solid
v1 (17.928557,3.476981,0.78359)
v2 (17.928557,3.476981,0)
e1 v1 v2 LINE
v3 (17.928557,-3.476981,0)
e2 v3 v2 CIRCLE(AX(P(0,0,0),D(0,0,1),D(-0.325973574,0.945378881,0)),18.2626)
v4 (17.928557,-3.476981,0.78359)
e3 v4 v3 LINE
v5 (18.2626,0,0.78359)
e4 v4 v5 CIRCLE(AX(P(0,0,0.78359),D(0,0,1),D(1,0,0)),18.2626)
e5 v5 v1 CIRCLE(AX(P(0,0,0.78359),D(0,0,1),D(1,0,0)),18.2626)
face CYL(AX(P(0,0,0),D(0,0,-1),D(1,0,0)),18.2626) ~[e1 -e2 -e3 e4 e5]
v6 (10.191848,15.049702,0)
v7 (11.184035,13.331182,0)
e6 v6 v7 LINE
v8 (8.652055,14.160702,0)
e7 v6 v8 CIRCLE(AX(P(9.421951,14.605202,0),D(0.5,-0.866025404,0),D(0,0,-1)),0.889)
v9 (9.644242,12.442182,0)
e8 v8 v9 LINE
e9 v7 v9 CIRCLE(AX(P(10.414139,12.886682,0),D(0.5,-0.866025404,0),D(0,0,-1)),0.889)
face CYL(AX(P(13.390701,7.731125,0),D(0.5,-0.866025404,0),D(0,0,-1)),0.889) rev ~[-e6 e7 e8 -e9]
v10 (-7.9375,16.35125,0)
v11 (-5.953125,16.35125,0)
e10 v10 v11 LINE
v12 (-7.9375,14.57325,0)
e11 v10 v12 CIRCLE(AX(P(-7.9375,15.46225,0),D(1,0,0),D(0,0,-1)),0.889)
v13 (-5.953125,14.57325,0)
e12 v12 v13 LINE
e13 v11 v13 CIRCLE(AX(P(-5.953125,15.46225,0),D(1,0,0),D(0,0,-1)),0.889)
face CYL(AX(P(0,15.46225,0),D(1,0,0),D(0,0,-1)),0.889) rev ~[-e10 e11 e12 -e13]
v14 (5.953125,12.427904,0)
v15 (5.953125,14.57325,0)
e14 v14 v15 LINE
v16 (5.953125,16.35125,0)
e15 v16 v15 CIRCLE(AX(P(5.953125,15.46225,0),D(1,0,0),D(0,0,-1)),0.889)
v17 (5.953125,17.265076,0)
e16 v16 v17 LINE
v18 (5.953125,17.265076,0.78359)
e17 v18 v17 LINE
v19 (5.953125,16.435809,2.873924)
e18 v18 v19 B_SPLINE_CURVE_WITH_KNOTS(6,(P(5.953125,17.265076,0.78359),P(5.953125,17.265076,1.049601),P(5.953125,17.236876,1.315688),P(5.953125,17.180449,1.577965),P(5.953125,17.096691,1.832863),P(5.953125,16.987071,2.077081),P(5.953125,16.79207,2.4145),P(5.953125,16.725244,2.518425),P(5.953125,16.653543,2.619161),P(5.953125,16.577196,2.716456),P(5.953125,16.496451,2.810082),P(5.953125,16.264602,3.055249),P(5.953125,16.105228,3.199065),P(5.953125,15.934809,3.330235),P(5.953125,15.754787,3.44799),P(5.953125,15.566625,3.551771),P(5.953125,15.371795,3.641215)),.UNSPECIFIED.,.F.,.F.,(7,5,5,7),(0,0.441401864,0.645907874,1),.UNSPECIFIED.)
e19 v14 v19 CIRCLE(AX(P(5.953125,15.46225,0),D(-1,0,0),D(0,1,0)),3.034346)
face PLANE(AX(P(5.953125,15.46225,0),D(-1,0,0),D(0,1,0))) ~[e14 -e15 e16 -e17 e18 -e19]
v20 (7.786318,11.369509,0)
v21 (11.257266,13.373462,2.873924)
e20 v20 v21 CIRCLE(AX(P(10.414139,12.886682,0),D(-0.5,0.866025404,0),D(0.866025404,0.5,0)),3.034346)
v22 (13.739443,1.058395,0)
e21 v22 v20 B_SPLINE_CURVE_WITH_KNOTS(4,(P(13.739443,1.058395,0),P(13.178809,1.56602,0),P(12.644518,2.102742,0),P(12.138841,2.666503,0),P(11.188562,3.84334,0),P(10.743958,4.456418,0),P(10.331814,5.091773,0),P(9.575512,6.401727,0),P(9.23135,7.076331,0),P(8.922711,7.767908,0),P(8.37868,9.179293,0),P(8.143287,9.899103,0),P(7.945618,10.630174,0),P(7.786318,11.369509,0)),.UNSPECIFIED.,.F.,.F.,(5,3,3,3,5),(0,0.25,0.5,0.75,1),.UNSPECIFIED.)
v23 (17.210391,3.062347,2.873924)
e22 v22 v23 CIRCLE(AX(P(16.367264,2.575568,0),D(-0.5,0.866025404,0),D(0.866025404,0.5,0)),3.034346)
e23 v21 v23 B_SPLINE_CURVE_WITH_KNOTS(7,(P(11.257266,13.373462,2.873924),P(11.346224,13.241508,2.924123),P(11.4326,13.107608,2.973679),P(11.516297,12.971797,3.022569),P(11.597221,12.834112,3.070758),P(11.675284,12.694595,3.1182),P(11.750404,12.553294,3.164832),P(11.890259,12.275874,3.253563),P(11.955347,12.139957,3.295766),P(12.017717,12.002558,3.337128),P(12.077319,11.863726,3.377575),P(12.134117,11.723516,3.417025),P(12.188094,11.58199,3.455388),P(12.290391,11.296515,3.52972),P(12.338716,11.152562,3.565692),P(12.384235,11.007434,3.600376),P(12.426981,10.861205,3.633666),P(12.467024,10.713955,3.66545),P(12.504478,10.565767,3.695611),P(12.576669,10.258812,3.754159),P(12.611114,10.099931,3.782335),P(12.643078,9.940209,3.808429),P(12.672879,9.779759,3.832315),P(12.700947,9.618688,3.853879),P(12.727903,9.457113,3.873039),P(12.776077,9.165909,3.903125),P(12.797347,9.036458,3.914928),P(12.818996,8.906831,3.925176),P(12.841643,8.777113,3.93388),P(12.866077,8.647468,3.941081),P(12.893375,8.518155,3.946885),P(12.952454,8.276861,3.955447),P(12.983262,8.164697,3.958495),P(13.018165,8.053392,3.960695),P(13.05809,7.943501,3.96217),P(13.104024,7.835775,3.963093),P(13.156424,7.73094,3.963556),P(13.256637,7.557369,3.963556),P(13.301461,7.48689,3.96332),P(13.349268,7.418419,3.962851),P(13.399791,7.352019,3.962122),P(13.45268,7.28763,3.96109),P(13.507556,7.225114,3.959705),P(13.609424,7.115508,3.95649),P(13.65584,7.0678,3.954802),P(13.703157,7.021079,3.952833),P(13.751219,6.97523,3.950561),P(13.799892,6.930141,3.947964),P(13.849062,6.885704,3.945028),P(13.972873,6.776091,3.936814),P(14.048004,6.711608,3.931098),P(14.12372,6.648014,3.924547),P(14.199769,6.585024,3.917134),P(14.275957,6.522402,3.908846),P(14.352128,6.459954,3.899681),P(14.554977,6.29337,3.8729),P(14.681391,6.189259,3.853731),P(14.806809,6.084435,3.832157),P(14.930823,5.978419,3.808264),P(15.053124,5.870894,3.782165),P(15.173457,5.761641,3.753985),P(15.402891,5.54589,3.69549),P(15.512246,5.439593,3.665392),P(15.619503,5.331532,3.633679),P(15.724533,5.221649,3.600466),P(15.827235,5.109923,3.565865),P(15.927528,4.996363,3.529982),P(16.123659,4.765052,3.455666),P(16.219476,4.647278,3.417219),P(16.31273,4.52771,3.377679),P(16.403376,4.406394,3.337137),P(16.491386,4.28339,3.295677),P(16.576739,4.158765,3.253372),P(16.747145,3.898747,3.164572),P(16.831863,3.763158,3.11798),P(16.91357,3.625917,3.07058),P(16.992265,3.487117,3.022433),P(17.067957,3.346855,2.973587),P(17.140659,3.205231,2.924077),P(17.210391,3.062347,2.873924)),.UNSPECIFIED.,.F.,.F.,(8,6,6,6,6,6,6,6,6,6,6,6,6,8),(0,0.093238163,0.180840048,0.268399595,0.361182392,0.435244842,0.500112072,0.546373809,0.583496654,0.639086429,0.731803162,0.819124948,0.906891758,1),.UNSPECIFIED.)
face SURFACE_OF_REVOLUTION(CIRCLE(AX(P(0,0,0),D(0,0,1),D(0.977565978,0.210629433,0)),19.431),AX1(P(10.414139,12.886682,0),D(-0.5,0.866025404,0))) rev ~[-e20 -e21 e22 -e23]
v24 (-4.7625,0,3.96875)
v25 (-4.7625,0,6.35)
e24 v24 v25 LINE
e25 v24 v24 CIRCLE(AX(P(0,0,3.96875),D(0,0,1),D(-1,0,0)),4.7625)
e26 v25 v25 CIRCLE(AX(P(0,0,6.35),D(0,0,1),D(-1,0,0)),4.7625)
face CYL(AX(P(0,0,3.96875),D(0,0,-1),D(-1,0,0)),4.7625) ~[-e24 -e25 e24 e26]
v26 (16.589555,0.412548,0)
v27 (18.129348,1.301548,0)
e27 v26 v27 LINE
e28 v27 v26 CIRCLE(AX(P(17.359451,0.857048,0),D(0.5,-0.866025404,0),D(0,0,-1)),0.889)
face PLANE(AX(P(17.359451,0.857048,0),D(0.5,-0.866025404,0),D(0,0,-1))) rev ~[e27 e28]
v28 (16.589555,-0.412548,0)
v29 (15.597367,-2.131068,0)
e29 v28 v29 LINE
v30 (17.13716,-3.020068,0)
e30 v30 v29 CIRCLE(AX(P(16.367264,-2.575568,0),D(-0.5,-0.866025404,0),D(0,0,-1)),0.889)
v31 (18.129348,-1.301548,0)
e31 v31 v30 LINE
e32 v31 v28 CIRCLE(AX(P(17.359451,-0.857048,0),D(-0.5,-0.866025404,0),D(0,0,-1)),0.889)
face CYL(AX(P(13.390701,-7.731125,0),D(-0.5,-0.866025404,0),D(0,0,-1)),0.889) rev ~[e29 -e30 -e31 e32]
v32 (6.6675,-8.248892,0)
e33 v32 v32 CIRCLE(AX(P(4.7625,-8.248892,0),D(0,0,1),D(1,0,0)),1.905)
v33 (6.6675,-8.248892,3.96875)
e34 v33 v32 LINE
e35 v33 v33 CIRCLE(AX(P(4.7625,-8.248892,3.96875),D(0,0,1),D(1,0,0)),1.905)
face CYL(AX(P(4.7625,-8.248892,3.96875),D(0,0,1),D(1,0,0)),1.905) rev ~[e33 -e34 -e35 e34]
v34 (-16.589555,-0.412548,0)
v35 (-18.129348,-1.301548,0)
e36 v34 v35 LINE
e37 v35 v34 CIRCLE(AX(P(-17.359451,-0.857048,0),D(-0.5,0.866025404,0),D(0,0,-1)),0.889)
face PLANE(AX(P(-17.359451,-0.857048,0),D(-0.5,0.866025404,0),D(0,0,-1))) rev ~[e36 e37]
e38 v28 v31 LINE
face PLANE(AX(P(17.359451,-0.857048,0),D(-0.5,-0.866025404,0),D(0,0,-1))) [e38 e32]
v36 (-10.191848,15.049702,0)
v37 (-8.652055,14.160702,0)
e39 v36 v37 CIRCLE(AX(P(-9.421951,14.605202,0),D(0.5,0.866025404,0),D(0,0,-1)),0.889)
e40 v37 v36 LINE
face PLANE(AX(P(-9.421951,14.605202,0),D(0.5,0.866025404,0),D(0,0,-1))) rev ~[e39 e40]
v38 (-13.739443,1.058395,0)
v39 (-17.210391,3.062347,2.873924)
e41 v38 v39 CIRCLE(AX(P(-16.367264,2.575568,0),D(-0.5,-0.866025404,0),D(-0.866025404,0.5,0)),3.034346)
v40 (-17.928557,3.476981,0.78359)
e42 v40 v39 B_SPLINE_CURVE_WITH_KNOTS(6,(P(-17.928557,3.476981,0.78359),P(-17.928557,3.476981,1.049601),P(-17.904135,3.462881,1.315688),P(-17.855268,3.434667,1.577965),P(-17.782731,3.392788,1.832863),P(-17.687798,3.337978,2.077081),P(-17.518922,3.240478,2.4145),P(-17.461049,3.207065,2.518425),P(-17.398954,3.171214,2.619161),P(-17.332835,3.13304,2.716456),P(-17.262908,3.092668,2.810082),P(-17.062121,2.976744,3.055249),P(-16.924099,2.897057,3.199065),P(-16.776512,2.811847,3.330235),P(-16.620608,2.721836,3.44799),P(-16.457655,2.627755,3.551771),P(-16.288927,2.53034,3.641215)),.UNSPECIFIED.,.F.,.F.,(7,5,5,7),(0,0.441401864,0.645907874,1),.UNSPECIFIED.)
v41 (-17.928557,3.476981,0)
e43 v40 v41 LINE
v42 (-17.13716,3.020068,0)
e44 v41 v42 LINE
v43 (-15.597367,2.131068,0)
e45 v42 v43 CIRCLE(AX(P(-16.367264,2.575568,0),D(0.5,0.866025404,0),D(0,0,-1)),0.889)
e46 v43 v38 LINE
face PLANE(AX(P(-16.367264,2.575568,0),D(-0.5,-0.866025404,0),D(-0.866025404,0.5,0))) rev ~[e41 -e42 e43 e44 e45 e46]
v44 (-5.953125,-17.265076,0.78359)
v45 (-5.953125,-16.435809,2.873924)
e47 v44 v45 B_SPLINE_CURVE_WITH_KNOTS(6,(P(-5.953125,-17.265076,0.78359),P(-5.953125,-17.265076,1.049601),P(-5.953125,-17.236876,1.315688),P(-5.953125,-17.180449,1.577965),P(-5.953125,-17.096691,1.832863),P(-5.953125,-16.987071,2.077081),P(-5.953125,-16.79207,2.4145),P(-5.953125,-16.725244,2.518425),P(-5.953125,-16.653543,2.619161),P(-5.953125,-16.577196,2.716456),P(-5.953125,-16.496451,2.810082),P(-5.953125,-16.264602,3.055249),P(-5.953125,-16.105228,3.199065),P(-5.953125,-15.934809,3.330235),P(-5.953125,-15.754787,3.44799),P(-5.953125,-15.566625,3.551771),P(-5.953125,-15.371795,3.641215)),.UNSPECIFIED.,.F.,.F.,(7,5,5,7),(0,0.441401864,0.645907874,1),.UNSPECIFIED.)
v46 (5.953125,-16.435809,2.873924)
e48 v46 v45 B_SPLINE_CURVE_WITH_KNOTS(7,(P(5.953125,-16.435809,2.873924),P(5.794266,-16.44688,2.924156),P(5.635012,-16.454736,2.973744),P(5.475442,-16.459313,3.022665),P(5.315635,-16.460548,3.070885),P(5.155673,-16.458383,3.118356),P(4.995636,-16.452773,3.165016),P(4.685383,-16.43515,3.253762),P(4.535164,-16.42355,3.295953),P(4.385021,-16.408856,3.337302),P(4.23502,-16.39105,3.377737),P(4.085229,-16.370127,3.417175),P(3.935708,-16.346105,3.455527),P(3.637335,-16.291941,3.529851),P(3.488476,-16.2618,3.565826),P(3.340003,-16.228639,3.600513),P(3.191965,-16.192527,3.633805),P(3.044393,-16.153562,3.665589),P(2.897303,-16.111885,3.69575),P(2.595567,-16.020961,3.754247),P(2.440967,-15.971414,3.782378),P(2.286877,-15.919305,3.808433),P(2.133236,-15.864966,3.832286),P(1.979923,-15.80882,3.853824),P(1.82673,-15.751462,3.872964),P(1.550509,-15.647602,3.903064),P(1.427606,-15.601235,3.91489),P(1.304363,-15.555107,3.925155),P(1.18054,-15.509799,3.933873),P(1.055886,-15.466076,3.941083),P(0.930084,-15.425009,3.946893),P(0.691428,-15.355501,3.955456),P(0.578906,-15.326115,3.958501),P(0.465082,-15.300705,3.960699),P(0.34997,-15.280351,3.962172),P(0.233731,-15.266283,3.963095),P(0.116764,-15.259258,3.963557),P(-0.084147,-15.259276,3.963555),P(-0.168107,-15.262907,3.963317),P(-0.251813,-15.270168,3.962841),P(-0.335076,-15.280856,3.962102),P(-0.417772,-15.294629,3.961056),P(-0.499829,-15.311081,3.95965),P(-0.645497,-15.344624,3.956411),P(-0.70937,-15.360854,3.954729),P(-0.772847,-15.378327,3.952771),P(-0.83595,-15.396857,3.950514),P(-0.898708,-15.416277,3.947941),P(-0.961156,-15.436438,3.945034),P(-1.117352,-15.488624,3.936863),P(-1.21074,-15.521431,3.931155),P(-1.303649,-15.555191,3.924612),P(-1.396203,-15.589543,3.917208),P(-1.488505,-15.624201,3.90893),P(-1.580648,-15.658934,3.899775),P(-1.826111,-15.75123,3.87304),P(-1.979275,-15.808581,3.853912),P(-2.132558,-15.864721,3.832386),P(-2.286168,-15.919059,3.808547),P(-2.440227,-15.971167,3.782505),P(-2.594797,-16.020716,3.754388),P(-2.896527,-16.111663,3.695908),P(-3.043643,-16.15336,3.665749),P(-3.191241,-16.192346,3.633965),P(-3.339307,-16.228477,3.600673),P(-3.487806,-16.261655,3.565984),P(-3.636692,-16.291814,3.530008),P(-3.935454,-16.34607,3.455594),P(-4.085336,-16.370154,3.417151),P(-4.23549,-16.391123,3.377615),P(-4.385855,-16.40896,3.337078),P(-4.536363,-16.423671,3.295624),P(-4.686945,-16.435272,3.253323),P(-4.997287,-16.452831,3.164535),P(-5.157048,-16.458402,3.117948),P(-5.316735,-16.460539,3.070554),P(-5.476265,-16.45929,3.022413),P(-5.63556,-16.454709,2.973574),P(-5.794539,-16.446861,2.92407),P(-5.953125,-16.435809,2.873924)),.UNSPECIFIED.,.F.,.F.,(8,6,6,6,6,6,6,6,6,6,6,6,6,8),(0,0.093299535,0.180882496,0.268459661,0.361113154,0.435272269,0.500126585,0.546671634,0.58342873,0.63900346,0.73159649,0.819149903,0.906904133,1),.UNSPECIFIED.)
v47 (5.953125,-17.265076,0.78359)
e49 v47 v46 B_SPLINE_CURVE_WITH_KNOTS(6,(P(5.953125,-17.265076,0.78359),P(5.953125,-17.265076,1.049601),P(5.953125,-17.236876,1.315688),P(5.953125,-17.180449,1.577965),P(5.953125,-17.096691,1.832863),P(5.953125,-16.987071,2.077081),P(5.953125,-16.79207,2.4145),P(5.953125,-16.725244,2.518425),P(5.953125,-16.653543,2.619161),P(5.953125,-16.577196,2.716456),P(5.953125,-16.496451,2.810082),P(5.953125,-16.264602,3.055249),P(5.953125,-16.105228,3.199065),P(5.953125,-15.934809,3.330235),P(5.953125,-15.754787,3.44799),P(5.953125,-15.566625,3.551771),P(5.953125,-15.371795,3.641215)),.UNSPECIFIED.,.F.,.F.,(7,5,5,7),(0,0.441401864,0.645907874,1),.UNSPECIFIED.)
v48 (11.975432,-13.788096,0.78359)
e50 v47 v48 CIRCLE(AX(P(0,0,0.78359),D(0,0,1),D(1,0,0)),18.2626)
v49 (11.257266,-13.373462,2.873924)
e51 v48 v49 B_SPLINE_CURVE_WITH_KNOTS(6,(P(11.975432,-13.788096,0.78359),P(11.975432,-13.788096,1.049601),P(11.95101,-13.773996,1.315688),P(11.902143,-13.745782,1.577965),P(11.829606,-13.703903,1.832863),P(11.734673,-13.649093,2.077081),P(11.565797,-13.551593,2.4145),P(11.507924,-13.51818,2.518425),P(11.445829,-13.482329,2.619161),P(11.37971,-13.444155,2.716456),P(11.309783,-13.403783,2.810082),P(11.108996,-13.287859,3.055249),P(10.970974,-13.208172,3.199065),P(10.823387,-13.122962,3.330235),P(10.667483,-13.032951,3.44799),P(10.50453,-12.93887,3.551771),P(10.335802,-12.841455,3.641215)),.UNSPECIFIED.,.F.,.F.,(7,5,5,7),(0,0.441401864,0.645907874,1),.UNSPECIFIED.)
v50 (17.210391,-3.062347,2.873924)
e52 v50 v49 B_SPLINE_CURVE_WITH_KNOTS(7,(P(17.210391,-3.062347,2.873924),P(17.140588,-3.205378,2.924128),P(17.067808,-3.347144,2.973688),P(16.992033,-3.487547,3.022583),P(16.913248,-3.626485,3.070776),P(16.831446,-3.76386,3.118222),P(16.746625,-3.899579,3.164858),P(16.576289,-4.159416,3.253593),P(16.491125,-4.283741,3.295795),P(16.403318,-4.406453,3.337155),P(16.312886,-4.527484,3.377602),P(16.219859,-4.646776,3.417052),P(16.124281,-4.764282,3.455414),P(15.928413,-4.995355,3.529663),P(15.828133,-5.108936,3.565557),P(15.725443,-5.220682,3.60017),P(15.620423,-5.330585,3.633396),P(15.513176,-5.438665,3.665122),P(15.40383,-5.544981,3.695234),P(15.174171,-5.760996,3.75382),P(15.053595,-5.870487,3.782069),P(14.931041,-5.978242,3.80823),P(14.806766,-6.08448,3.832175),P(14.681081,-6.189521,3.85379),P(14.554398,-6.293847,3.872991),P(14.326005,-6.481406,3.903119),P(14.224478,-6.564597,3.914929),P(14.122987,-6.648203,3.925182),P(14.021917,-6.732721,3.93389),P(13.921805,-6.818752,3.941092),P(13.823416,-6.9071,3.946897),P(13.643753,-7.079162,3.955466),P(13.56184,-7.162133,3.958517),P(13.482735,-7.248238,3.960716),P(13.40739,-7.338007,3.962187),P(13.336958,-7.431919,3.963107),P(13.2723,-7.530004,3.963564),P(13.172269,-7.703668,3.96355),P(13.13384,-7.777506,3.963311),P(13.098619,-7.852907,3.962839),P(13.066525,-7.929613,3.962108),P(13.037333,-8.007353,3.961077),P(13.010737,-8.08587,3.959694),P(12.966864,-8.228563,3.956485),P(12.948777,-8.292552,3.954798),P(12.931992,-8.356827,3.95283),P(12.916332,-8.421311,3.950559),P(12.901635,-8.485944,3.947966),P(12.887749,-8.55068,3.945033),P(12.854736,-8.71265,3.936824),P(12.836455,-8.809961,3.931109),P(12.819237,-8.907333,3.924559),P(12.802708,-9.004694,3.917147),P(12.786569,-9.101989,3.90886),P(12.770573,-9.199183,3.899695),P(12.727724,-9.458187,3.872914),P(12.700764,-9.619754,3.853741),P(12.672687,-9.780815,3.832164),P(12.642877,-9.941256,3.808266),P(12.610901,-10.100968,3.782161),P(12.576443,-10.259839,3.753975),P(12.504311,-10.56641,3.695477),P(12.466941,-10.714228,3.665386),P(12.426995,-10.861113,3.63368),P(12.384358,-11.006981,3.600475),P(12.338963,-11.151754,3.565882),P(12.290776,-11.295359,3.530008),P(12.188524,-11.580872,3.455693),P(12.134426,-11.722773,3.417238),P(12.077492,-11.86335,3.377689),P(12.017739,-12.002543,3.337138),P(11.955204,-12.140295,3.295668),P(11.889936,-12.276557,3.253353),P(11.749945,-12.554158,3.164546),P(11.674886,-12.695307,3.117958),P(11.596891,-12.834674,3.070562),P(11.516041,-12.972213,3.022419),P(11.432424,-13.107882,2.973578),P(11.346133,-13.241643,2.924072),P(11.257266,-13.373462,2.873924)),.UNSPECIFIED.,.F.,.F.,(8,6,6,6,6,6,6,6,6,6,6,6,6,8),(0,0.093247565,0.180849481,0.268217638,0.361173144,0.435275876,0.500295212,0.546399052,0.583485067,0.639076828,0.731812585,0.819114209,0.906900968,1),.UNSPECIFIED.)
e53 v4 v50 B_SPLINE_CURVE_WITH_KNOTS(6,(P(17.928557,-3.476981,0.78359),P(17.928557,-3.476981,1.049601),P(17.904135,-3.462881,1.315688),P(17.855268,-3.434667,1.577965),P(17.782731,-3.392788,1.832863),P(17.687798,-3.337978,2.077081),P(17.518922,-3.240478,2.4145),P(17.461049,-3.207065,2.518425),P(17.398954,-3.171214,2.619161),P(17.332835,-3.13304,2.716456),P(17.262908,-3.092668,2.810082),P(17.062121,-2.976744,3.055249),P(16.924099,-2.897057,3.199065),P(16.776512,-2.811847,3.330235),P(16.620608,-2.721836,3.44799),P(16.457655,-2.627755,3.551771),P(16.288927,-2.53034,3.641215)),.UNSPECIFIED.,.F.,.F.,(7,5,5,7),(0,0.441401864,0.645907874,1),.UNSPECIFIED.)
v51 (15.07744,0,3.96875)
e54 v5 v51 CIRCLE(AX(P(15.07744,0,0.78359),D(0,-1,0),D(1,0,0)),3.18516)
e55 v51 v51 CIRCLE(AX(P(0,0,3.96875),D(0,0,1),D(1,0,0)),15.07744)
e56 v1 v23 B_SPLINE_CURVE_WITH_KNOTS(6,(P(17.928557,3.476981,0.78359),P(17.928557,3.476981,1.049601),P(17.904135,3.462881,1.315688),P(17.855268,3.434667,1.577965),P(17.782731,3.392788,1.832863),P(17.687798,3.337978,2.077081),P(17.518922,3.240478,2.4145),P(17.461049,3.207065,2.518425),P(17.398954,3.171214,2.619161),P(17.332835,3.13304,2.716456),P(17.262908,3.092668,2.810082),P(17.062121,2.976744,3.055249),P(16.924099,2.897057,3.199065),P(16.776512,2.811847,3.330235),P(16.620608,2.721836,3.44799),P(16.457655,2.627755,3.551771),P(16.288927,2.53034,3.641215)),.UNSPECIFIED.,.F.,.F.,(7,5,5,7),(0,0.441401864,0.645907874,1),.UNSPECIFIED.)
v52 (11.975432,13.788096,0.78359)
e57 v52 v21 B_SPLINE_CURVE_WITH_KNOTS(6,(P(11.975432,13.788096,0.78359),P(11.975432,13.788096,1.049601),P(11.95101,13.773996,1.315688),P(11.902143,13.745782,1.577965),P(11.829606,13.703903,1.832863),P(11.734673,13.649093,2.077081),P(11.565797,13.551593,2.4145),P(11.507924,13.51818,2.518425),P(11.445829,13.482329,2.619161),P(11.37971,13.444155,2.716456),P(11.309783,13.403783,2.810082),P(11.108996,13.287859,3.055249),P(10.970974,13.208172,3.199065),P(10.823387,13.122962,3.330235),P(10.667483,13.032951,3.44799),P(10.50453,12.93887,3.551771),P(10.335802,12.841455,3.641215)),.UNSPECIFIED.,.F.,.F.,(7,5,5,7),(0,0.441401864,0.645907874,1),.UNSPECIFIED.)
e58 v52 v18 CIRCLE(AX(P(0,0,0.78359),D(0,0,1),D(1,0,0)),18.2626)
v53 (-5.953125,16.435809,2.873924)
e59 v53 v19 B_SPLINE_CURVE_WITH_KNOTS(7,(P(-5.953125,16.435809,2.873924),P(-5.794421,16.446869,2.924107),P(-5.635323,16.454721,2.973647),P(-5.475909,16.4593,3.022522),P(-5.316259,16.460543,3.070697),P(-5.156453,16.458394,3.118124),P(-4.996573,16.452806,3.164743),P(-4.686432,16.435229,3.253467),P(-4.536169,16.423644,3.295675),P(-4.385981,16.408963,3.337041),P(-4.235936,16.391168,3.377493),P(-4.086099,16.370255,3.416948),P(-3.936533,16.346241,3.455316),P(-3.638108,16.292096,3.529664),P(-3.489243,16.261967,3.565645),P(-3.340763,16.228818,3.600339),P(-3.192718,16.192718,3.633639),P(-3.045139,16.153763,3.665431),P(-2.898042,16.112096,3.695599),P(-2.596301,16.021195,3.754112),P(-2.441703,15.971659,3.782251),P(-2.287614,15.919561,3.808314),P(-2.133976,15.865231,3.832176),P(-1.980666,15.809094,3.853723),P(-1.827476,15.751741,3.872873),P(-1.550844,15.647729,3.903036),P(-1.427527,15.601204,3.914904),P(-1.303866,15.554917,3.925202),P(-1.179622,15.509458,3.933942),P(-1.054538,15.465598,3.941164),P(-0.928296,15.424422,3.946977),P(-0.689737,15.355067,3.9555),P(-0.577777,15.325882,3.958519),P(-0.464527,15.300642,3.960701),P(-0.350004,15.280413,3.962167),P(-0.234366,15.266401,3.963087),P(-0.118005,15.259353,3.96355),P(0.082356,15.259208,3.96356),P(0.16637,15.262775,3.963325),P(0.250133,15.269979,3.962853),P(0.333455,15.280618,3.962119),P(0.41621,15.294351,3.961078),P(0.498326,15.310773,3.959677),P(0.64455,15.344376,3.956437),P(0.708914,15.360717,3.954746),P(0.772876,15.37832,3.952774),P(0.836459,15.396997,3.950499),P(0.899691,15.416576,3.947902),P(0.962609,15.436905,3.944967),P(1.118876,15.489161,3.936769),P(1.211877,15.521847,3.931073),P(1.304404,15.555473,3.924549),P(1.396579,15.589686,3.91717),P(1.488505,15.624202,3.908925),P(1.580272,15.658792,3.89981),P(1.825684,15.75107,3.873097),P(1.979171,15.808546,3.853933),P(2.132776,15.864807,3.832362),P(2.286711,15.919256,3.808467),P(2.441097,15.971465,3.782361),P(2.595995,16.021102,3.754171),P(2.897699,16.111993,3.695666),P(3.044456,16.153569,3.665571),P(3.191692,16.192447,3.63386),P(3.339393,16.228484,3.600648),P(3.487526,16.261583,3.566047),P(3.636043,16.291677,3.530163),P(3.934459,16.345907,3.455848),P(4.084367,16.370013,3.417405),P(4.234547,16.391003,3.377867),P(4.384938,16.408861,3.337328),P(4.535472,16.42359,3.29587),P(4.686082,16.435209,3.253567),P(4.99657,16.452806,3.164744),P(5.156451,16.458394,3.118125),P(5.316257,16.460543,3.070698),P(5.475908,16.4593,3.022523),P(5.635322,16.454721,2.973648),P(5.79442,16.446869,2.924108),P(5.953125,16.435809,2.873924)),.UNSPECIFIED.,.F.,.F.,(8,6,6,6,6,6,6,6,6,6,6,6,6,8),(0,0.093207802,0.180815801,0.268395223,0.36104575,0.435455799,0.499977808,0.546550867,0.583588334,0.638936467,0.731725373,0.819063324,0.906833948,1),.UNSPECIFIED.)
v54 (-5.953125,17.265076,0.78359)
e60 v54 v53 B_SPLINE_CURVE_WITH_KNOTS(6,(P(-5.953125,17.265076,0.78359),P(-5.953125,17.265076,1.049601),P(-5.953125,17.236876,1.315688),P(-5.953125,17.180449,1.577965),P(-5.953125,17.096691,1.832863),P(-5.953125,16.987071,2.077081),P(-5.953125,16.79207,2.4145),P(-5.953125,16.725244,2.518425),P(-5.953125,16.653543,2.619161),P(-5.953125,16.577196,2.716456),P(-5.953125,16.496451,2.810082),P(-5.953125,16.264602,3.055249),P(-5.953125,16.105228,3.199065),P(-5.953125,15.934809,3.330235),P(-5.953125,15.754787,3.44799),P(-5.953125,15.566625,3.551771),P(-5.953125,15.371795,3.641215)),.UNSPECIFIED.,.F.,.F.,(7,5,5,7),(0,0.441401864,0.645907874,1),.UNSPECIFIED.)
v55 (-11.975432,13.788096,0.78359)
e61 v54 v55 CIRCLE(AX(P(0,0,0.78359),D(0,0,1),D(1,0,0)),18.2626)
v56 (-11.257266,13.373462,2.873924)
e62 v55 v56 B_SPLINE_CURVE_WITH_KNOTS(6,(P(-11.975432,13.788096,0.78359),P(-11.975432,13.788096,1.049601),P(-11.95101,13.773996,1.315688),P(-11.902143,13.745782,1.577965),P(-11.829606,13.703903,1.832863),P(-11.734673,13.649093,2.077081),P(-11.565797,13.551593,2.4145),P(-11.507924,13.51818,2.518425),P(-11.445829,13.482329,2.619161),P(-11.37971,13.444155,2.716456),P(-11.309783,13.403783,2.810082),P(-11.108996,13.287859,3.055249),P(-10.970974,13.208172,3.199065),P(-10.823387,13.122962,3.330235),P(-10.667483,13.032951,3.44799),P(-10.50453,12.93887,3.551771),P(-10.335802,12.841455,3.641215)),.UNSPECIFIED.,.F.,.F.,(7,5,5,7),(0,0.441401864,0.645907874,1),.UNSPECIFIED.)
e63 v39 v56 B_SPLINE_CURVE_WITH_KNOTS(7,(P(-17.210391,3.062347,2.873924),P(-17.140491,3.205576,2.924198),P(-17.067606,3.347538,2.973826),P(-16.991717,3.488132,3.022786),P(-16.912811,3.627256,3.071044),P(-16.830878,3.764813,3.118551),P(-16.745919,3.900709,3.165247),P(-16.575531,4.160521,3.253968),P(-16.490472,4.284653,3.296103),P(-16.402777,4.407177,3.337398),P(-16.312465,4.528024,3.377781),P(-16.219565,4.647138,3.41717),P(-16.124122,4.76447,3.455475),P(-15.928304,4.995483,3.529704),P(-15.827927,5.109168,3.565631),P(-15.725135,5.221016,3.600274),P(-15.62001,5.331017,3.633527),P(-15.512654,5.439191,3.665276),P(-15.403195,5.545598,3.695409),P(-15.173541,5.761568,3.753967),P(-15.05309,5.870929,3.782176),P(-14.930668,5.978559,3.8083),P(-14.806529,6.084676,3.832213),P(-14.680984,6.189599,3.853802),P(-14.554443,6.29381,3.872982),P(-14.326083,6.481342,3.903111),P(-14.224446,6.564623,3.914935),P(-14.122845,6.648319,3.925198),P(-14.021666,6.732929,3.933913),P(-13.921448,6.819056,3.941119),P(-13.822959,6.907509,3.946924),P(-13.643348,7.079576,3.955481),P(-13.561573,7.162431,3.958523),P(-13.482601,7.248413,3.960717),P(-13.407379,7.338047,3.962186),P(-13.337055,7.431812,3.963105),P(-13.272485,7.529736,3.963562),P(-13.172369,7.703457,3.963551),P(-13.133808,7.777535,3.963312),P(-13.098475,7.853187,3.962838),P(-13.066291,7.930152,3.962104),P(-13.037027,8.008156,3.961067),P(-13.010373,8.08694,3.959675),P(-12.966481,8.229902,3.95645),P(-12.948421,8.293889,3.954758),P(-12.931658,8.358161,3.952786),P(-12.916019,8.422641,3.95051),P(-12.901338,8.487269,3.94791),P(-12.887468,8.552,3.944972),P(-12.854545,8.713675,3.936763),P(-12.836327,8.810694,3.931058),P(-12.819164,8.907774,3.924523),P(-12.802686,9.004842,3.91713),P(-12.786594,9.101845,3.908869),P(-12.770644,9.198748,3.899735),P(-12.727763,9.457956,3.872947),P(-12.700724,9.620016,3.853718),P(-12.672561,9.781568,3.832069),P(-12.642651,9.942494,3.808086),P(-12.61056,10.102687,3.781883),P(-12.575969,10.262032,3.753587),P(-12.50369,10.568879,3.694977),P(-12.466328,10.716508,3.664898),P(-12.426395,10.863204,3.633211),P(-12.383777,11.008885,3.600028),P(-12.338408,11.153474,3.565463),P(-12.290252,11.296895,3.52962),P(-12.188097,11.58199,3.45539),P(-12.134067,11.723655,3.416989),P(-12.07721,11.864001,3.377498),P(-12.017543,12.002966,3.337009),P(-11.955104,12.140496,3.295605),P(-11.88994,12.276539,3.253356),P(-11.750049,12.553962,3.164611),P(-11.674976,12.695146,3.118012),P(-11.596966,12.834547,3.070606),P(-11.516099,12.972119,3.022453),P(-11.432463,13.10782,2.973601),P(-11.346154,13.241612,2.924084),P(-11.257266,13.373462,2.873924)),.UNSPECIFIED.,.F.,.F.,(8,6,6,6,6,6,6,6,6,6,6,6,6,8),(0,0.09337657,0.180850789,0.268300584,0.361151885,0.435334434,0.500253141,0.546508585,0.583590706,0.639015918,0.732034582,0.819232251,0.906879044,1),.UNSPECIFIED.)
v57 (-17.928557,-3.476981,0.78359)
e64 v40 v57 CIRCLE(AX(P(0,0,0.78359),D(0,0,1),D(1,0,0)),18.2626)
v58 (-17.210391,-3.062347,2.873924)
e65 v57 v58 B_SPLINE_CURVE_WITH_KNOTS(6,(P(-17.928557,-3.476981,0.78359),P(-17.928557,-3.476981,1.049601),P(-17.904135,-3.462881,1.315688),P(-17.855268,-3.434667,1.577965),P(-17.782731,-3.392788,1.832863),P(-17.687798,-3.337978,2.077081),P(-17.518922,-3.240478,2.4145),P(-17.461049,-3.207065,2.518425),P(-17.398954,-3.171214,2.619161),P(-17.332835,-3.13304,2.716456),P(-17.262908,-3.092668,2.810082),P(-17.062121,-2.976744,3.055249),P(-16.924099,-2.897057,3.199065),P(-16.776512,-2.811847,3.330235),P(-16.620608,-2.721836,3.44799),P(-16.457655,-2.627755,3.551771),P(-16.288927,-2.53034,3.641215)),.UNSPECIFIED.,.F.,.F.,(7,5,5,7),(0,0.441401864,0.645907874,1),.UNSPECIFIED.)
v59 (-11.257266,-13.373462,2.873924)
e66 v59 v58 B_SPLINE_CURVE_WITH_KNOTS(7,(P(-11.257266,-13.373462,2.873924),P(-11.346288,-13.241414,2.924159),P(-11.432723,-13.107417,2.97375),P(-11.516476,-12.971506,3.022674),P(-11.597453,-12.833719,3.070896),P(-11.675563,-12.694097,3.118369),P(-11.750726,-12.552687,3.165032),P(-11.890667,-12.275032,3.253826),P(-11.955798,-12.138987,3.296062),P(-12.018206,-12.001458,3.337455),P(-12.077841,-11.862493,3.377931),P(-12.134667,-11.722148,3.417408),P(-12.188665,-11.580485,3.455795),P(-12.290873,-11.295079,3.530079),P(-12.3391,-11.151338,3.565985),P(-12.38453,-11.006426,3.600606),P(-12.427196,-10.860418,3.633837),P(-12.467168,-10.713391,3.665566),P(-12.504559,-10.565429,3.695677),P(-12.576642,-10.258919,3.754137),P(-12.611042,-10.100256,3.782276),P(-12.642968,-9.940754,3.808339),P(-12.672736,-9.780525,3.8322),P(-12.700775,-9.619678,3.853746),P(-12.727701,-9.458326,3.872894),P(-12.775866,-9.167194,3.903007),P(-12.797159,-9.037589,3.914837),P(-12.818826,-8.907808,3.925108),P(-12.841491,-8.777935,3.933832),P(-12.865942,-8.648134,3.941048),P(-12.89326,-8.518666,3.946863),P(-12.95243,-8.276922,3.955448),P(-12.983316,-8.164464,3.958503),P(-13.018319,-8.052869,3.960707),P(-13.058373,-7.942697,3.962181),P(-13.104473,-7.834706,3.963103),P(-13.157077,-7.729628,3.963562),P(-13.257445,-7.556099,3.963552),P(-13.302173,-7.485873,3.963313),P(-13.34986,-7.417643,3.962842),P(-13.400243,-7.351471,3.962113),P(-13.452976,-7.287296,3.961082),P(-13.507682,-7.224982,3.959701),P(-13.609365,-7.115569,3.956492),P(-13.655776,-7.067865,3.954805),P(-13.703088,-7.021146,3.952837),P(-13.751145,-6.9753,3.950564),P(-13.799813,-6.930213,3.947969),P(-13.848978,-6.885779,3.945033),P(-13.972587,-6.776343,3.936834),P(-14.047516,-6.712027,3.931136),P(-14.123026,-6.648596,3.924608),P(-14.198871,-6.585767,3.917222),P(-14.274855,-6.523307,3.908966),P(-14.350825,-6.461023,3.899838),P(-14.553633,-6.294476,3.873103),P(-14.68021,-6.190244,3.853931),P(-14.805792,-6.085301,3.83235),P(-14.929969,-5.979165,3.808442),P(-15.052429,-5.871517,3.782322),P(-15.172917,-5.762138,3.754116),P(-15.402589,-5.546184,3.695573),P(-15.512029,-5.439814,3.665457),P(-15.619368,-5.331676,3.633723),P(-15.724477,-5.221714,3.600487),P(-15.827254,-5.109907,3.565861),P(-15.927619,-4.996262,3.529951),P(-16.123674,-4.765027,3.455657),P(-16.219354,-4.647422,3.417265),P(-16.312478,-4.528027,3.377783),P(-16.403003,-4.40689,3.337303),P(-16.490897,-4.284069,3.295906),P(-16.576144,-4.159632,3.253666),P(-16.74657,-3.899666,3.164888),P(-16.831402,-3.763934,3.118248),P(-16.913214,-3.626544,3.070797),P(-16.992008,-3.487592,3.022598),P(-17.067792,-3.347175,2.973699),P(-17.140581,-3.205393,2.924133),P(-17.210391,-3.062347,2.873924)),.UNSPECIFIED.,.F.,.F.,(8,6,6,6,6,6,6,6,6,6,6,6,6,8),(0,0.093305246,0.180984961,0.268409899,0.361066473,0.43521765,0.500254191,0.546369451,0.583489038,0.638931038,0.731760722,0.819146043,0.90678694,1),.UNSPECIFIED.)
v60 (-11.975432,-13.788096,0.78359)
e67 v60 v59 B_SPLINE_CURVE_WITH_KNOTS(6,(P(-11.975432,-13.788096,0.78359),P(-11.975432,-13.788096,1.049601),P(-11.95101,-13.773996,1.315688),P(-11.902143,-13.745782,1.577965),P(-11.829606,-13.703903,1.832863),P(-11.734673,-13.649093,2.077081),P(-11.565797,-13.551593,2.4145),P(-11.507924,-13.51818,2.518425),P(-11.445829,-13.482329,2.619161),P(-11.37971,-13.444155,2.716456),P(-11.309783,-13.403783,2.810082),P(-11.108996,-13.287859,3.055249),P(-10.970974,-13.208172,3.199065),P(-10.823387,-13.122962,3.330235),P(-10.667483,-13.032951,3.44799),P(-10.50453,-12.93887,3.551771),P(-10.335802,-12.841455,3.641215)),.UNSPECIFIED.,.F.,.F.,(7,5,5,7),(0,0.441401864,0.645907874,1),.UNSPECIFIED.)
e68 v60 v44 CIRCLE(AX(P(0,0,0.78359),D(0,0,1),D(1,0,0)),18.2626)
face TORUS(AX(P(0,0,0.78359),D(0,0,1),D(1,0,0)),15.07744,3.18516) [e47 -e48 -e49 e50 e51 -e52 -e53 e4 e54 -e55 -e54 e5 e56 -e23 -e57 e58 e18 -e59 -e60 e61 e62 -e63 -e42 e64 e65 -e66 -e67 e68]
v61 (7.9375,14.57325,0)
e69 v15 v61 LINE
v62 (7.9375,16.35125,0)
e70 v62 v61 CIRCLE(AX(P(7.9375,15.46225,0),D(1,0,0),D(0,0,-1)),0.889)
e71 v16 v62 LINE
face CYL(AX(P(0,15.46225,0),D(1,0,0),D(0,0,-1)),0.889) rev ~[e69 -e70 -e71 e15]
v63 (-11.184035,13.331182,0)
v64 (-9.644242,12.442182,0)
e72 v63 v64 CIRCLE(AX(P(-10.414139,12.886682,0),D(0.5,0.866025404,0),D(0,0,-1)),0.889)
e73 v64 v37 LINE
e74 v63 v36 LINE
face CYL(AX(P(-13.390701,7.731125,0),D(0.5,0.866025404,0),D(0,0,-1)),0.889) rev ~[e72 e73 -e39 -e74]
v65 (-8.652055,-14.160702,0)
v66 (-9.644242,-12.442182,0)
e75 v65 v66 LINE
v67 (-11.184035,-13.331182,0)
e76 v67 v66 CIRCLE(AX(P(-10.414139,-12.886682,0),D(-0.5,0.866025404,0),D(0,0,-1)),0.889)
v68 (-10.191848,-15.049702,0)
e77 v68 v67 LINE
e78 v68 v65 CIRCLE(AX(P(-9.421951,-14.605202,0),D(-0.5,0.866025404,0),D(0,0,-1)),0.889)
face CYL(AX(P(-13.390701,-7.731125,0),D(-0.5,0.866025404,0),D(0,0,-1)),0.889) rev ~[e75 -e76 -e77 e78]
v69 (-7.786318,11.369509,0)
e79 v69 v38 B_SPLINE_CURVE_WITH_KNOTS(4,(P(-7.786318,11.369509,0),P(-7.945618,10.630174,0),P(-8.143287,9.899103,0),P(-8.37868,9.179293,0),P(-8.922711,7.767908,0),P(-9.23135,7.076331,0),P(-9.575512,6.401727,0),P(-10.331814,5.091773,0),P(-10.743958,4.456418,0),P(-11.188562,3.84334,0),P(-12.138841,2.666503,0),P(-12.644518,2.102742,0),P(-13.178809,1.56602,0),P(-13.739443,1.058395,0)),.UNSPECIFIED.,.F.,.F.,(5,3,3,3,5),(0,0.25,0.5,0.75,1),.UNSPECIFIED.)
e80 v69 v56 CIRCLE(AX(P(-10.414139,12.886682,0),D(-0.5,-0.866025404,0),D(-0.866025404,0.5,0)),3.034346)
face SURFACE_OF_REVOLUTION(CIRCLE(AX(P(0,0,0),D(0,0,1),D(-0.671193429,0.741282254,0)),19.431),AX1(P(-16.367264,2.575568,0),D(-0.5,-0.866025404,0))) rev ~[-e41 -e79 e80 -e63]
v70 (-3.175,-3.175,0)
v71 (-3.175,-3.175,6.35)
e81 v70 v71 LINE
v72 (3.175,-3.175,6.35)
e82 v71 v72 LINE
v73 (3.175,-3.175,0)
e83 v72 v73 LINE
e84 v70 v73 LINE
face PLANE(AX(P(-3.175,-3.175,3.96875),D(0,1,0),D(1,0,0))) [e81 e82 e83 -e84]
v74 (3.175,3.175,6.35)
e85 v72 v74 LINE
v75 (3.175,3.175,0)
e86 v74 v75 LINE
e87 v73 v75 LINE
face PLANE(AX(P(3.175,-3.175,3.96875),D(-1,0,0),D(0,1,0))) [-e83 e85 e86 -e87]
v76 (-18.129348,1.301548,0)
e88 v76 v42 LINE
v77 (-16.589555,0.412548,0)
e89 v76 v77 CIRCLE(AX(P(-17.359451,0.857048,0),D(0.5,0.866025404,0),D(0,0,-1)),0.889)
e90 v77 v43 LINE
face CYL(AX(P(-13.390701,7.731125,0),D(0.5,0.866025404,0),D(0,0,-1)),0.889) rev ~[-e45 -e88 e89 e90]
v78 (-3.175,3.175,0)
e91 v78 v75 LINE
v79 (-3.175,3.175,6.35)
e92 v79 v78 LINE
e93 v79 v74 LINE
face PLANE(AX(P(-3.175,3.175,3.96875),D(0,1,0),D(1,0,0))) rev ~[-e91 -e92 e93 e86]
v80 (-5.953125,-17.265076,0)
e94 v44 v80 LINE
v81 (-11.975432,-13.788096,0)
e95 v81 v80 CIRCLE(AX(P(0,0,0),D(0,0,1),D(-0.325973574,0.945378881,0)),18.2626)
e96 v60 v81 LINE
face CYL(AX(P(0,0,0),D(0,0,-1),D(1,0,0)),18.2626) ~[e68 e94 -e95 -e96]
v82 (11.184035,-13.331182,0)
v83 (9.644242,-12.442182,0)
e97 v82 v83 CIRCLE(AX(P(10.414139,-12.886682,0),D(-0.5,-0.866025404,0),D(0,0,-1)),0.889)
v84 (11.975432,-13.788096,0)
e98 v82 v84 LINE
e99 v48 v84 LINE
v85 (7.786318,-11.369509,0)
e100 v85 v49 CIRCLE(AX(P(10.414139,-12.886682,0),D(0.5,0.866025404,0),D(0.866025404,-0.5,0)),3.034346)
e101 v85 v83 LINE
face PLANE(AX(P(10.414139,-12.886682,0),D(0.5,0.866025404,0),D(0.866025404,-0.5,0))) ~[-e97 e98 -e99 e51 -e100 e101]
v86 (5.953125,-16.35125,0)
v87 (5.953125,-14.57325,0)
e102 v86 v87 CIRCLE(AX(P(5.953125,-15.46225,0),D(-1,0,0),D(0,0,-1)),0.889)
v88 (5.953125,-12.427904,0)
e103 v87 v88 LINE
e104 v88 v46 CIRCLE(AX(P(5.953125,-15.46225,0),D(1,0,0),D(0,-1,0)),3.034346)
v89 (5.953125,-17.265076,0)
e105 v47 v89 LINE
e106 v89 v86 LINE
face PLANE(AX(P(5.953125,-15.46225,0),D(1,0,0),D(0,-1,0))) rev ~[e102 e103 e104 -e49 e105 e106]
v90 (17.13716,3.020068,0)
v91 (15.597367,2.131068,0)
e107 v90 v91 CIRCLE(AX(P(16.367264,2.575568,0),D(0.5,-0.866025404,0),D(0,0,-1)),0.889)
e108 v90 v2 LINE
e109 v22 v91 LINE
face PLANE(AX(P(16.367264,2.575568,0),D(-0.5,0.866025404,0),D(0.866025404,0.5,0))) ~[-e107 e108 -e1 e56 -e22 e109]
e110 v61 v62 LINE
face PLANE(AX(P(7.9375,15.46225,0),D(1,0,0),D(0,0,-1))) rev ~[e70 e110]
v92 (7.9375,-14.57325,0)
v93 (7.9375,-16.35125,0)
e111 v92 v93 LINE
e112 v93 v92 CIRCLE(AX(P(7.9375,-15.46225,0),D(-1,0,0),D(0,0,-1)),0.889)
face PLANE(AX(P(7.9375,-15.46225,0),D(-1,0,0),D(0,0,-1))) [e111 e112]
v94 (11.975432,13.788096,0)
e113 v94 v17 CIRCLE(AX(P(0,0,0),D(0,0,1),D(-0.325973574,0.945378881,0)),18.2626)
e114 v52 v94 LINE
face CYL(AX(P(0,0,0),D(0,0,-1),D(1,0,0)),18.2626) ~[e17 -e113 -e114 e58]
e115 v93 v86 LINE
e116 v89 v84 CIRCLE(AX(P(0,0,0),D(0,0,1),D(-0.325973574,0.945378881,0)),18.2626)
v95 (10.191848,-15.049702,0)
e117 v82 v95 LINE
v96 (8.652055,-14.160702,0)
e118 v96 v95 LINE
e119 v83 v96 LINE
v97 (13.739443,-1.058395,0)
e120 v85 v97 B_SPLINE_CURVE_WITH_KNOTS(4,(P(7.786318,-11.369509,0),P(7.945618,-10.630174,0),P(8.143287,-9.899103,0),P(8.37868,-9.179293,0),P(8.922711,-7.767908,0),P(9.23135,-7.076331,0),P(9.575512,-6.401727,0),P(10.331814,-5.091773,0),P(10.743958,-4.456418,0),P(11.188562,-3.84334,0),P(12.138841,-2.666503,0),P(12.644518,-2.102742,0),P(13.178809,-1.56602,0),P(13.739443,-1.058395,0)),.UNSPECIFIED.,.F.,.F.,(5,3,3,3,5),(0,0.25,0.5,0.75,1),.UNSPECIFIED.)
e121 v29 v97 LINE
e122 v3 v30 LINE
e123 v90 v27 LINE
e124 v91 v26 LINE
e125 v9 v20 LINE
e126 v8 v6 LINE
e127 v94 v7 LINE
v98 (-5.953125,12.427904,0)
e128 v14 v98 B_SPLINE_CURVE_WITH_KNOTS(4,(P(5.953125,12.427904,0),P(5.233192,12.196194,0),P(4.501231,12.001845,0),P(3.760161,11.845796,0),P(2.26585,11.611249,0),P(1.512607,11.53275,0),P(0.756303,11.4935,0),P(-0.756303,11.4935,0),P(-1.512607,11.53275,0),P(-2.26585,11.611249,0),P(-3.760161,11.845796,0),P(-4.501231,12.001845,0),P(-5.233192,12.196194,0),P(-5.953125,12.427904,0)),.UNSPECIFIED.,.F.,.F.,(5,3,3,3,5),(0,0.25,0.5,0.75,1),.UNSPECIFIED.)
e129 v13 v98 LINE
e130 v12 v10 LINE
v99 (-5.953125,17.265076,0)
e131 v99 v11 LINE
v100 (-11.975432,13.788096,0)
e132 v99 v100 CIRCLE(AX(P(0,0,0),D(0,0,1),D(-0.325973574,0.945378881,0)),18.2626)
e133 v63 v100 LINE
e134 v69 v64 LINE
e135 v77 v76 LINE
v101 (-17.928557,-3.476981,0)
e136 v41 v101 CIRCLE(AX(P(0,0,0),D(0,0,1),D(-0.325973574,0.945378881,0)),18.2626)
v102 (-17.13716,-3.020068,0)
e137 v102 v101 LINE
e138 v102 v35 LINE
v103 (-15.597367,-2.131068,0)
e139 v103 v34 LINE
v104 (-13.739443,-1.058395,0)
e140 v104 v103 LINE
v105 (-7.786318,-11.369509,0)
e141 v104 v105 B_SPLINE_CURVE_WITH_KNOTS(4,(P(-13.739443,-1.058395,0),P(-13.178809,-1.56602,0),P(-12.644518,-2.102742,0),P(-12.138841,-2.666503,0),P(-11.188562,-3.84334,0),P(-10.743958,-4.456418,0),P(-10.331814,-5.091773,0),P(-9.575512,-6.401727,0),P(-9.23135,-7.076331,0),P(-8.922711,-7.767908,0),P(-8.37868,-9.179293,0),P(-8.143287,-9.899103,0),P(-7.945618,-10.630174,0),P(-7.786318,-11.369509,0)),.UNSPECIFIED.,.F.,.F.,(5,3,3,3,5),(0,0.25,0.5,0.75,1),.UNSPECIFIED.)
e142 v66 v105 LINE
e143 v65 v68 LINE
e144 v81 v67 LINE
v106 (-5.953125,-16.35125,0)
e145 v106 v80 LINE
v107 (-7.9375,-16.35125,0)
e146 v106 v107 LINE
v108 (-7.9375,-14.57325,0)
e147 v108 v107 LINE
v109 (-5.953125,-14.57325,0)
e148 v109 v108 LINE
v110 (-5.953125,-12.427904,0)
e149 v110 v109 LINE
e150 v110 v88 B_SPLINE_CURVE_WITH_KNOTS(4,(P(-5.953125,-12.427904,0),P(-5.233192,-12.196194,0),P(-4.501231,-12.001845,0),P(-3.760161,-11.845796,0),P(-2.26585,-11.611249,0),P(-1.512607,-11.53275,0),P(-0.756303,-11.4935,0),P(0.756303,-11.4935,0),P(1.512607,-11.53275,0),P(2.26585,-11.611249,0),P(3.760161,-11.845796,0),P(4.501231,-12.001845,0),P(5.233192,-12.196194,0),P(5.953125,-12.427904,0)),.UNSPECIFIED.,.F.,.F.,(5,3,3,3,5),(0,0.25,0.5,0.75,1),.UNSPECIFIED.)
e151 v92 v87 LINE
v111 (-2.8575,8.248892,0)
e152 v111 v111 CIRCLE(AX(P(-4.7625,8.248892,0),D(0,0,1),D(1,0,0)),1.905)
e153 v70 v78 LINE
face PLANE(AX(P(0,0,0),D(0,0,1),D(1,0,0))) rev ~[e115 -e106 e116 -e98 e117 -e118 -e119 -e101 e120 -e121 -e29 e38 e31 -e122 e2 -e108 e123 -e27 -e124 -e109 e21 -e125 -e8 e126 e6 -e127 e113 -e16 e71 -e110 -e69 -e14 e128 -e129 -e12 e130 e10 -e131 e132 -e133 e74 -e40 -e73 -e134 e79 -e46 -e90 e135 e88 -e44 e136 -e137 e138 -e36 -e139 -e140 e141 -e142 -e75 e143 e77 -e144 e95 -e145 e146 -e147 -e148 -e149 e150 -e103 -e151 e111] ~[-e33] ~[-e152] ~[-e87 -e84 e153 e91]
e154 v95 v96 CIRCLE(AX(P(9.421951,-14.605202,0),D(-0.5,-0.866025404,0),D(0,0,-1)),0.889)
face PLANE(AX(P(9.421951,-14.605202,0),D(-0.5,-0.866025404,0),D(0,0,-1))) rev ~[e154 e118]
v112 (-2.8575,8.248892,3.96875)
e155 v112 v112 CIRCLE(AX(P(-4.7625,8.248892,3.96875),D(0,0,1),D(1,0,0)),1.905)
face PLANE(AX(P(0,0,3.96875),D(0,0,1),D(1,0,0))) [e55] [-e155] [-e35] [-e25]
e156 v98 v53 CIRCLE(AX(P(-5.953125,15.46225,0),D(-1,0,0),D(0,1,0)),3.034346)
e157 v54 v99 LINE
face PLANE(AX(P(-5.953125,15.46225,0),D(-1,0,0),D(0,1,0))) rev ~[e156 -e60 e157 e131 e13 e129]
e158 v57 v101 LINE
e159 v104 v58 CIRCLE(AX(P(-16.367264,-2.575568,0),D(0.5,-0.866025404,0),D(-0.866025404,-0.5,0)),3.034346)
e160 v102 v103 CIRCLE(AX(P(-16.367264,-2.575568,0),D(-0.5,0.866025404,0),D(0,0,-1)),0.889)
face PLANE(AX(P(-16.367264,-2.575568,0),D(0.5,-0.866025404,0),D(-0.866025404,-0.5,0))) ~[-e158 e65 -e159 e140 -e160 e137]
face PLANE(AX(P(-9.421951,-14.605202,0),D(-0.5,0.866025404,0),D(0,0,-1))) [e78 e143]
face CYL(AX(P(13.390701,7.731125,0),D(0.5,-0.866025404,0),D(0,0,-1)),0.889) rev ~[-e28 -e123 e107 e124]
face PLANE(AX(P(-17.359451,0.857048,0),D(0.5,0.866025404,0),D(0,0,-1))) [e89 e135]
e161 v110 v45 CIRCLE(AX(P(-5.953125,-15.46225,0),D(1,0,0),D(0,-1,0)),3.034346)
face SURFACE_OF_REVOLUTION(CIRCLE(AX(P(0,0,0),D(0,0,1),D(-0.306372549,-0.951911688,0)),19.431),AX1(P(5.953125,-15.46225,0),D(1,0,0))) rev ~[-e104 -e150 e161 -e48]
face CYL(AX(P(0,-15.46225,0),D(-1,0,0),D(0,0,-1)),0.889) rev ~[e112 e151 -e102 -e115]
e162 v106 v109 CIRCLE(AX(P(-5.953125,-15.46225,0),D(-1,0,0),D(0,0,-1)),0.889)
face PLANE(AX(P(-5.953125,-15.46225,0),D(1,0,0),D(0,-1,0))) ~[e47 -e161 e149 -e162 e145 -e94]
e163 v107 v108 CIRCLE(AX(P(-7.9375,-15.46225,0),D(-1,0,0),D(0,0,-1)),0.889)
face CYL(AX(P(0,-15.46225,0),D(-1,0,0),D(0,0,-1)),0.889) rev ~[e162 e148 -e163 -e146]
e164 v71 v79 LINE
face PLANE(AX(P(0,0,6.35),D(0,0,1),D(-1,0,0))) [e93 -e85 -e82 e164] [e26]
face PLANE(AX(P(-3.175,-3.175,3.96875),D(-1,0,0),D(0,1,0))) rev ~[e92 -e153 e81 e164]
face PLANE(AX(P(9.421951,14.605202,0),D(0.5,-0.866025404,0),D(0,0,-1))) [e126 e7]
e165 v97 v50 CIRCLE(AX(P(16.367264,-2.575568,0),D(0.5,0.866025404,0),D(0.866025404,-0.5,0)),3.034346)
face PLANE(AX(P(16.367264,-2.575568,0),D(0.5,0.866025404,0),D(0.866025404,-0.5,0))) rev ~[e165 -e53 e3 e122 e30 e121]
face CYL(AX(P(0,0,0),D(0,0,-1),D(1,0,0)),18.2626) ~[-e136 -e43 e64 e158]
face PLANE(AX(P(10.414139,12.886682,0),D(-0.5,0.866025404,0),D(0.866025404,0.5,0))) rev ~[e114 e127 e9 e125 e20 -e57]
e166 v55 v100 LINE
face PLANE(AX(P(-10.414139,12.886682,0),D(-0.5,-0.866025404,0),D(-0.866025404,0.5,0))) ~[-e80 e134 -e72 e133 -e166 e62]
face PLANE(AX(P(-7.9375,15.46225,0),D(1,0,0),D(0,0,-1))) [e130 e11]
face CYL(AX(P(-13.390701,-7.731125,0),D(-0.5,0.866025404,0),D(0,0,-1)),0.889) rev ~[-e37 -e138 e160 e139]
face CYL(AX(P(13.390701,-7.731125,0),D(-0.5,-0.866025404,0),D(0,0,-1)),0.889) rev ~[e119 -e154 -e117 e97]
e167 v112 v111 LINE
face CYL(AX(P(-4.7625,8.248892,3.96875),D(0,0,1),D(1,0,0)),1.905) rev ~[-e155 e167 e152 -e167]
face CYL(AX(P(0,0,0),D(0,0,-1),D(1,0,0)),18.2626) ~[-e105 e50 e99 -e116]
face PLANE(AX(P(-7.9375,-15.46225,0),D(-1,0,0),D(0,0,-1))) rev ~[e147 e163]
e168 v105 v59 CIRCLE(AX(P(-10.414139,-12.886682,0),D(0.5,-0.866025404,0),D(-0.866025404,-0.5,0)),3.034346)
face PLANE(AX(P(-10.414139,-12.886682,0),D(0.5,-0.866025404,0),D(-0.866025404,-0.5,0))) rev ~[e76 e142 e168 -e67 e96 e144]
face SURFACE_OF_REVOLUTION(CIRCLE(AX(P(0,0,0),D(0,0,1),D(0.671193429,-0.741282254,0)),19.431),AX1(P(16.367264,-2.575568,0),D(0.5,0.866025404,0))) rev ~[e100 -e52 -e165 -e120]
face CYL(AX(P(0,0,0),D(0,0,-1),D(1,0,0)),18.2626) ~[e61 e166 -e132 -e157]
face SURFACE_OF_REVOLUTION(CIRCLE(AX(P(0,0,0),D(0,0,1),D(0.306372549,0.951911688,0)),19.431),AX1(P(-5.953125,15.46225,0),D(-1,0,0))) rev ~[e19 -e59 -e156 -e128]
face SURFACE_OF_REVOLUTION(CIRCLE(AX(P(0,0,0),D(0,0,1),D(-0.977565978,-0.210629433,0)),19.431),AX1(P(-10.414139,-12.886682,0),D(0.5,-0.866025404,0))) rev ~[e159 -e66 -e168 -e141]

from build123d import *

# Parameters (mm, degrees)
SKETCH1_R           = 18.2626
BOSS_EXTRUDE1_DEPTH = 3.96875
FILLET1_R           = 3.18516
SKETCH2_R           = 1.905
SKETCH2_W           = 6.35
SKETCH2_H           = 6.35
CUT_EXTRUDE1_DEPTH  = 27.130367418
SKETCH6_R           = 0.889
CUT_EXTRUDE2_DEPTH  = 7.9375
CIRPATTERN1_COUNT   = 6
SKETCH7_R           = 4.7625
SKETCH7_W           = 6.35
SKETCH7_H           = 6.35
BOSS_EXTRUDE2_DEPTH = 2.38125


with BuildPart() as part:
    # Sketch1 → Boss-Extrude1 (new body)
    with BuildSketch(Plane.XY):
        Circle(SKETCH1_R)
    extrude(amount=BOSS_EXTRUDE1_DEPTH)

    # Fillet1
    fillet1_edges = [part.edges().sort_by_distance(p)[0] for p in [
        (-18.2626, 0, 3.96875),
    ]]
    fillet(fillet1_edges, radius=FILLET1_R)

    # Sketch2 → Cut-Extrude1 (cut, through all)
    with BuildSketch(Plane.XY.offset(3.96875)):
        with Locations((-4.7625, 8.248891971)):
            Circle(SKETCH2_R)
        with Locations((4.7625, -8.248891971)):
            Circle(SKETCH2_R)
        Rectangle(SKETCH2_W, SKETCH2_H)
    extrude(amount=-CUT_EXTRUDE1_DEPTH, mode=Mode.SUBTRACT)

    # Sketch5 → Cut-Revolve1 (revolve, cut)
    with BuildSketch(Plane.XY):
        with BuildLine():
            Line((-5.953125, 15.46225), (5.953125, 15.46225))
            Line((5.953125, 15.46225), (5.953125, 18.496596004))
            ThreePointArc((5.953125, 18.496596004), (0, 19.431), (-5.953125, 18.496596004))
            Line((-5.953125, 18.496596004), (-5.953125, 15.46225))
        make_face()
    cut_revolve1 = revolve(axis=Axis((-5.953125, 15.46225, 0), (-1, 0, 0)), mode=Mode.SUBTRACT)

    # Sketch6 → Cut-Extrude2 (cut, symmetric)
    with BuildSketch(Plane(origin=(0, 0, 0), x_dir=(0, 0, -1), z_dir=(1, 0, 0))):
        with Locations((0, 15.46225)):
            Circle(SKETCH6_R)
    cut_extrude2 = extrude(amount=CUT_EXTRUDE2_DEPTH, both=True, mode=Mode.SUBTRACT)

    # CirPattern1: Cut-Revolve1, Cut-Extrude2 ×6 about axis
    cirpattern1_axis = Axis((0, 0, 0), (0, 0, 1))
    add([cut_revolve1.rotate(cirpattern1_axis, i * 360 / CIRPATTERN1_COUNT) for i in range(1, CIRPATTERN1_COUNT)], mode=Mode.SUBTRACT)
    add([cut_extrude2.rotate(cirpattern1_axis, i * 360 / CIRPATTERN1_COUNT) for i in range(1, CIRPATTERN1_COUNT)], mode=Mode.SUBTRACT)

    # Sketch7 → Boss-Extrude2 (add)
    with BuildSketch(Plane.XY.offset(3.96875)):
        with Locations(Location((0, 0, 0), (0, 0, 180))):
            Circle(SKETCH7_R)
        Rectangle(SKETCH7_W, SKETCH7_H, mode=Mode.SUBTRACT)
    extrude(amount=BOSS_EXTRUDE2_DEPTH)


solid = part.part
